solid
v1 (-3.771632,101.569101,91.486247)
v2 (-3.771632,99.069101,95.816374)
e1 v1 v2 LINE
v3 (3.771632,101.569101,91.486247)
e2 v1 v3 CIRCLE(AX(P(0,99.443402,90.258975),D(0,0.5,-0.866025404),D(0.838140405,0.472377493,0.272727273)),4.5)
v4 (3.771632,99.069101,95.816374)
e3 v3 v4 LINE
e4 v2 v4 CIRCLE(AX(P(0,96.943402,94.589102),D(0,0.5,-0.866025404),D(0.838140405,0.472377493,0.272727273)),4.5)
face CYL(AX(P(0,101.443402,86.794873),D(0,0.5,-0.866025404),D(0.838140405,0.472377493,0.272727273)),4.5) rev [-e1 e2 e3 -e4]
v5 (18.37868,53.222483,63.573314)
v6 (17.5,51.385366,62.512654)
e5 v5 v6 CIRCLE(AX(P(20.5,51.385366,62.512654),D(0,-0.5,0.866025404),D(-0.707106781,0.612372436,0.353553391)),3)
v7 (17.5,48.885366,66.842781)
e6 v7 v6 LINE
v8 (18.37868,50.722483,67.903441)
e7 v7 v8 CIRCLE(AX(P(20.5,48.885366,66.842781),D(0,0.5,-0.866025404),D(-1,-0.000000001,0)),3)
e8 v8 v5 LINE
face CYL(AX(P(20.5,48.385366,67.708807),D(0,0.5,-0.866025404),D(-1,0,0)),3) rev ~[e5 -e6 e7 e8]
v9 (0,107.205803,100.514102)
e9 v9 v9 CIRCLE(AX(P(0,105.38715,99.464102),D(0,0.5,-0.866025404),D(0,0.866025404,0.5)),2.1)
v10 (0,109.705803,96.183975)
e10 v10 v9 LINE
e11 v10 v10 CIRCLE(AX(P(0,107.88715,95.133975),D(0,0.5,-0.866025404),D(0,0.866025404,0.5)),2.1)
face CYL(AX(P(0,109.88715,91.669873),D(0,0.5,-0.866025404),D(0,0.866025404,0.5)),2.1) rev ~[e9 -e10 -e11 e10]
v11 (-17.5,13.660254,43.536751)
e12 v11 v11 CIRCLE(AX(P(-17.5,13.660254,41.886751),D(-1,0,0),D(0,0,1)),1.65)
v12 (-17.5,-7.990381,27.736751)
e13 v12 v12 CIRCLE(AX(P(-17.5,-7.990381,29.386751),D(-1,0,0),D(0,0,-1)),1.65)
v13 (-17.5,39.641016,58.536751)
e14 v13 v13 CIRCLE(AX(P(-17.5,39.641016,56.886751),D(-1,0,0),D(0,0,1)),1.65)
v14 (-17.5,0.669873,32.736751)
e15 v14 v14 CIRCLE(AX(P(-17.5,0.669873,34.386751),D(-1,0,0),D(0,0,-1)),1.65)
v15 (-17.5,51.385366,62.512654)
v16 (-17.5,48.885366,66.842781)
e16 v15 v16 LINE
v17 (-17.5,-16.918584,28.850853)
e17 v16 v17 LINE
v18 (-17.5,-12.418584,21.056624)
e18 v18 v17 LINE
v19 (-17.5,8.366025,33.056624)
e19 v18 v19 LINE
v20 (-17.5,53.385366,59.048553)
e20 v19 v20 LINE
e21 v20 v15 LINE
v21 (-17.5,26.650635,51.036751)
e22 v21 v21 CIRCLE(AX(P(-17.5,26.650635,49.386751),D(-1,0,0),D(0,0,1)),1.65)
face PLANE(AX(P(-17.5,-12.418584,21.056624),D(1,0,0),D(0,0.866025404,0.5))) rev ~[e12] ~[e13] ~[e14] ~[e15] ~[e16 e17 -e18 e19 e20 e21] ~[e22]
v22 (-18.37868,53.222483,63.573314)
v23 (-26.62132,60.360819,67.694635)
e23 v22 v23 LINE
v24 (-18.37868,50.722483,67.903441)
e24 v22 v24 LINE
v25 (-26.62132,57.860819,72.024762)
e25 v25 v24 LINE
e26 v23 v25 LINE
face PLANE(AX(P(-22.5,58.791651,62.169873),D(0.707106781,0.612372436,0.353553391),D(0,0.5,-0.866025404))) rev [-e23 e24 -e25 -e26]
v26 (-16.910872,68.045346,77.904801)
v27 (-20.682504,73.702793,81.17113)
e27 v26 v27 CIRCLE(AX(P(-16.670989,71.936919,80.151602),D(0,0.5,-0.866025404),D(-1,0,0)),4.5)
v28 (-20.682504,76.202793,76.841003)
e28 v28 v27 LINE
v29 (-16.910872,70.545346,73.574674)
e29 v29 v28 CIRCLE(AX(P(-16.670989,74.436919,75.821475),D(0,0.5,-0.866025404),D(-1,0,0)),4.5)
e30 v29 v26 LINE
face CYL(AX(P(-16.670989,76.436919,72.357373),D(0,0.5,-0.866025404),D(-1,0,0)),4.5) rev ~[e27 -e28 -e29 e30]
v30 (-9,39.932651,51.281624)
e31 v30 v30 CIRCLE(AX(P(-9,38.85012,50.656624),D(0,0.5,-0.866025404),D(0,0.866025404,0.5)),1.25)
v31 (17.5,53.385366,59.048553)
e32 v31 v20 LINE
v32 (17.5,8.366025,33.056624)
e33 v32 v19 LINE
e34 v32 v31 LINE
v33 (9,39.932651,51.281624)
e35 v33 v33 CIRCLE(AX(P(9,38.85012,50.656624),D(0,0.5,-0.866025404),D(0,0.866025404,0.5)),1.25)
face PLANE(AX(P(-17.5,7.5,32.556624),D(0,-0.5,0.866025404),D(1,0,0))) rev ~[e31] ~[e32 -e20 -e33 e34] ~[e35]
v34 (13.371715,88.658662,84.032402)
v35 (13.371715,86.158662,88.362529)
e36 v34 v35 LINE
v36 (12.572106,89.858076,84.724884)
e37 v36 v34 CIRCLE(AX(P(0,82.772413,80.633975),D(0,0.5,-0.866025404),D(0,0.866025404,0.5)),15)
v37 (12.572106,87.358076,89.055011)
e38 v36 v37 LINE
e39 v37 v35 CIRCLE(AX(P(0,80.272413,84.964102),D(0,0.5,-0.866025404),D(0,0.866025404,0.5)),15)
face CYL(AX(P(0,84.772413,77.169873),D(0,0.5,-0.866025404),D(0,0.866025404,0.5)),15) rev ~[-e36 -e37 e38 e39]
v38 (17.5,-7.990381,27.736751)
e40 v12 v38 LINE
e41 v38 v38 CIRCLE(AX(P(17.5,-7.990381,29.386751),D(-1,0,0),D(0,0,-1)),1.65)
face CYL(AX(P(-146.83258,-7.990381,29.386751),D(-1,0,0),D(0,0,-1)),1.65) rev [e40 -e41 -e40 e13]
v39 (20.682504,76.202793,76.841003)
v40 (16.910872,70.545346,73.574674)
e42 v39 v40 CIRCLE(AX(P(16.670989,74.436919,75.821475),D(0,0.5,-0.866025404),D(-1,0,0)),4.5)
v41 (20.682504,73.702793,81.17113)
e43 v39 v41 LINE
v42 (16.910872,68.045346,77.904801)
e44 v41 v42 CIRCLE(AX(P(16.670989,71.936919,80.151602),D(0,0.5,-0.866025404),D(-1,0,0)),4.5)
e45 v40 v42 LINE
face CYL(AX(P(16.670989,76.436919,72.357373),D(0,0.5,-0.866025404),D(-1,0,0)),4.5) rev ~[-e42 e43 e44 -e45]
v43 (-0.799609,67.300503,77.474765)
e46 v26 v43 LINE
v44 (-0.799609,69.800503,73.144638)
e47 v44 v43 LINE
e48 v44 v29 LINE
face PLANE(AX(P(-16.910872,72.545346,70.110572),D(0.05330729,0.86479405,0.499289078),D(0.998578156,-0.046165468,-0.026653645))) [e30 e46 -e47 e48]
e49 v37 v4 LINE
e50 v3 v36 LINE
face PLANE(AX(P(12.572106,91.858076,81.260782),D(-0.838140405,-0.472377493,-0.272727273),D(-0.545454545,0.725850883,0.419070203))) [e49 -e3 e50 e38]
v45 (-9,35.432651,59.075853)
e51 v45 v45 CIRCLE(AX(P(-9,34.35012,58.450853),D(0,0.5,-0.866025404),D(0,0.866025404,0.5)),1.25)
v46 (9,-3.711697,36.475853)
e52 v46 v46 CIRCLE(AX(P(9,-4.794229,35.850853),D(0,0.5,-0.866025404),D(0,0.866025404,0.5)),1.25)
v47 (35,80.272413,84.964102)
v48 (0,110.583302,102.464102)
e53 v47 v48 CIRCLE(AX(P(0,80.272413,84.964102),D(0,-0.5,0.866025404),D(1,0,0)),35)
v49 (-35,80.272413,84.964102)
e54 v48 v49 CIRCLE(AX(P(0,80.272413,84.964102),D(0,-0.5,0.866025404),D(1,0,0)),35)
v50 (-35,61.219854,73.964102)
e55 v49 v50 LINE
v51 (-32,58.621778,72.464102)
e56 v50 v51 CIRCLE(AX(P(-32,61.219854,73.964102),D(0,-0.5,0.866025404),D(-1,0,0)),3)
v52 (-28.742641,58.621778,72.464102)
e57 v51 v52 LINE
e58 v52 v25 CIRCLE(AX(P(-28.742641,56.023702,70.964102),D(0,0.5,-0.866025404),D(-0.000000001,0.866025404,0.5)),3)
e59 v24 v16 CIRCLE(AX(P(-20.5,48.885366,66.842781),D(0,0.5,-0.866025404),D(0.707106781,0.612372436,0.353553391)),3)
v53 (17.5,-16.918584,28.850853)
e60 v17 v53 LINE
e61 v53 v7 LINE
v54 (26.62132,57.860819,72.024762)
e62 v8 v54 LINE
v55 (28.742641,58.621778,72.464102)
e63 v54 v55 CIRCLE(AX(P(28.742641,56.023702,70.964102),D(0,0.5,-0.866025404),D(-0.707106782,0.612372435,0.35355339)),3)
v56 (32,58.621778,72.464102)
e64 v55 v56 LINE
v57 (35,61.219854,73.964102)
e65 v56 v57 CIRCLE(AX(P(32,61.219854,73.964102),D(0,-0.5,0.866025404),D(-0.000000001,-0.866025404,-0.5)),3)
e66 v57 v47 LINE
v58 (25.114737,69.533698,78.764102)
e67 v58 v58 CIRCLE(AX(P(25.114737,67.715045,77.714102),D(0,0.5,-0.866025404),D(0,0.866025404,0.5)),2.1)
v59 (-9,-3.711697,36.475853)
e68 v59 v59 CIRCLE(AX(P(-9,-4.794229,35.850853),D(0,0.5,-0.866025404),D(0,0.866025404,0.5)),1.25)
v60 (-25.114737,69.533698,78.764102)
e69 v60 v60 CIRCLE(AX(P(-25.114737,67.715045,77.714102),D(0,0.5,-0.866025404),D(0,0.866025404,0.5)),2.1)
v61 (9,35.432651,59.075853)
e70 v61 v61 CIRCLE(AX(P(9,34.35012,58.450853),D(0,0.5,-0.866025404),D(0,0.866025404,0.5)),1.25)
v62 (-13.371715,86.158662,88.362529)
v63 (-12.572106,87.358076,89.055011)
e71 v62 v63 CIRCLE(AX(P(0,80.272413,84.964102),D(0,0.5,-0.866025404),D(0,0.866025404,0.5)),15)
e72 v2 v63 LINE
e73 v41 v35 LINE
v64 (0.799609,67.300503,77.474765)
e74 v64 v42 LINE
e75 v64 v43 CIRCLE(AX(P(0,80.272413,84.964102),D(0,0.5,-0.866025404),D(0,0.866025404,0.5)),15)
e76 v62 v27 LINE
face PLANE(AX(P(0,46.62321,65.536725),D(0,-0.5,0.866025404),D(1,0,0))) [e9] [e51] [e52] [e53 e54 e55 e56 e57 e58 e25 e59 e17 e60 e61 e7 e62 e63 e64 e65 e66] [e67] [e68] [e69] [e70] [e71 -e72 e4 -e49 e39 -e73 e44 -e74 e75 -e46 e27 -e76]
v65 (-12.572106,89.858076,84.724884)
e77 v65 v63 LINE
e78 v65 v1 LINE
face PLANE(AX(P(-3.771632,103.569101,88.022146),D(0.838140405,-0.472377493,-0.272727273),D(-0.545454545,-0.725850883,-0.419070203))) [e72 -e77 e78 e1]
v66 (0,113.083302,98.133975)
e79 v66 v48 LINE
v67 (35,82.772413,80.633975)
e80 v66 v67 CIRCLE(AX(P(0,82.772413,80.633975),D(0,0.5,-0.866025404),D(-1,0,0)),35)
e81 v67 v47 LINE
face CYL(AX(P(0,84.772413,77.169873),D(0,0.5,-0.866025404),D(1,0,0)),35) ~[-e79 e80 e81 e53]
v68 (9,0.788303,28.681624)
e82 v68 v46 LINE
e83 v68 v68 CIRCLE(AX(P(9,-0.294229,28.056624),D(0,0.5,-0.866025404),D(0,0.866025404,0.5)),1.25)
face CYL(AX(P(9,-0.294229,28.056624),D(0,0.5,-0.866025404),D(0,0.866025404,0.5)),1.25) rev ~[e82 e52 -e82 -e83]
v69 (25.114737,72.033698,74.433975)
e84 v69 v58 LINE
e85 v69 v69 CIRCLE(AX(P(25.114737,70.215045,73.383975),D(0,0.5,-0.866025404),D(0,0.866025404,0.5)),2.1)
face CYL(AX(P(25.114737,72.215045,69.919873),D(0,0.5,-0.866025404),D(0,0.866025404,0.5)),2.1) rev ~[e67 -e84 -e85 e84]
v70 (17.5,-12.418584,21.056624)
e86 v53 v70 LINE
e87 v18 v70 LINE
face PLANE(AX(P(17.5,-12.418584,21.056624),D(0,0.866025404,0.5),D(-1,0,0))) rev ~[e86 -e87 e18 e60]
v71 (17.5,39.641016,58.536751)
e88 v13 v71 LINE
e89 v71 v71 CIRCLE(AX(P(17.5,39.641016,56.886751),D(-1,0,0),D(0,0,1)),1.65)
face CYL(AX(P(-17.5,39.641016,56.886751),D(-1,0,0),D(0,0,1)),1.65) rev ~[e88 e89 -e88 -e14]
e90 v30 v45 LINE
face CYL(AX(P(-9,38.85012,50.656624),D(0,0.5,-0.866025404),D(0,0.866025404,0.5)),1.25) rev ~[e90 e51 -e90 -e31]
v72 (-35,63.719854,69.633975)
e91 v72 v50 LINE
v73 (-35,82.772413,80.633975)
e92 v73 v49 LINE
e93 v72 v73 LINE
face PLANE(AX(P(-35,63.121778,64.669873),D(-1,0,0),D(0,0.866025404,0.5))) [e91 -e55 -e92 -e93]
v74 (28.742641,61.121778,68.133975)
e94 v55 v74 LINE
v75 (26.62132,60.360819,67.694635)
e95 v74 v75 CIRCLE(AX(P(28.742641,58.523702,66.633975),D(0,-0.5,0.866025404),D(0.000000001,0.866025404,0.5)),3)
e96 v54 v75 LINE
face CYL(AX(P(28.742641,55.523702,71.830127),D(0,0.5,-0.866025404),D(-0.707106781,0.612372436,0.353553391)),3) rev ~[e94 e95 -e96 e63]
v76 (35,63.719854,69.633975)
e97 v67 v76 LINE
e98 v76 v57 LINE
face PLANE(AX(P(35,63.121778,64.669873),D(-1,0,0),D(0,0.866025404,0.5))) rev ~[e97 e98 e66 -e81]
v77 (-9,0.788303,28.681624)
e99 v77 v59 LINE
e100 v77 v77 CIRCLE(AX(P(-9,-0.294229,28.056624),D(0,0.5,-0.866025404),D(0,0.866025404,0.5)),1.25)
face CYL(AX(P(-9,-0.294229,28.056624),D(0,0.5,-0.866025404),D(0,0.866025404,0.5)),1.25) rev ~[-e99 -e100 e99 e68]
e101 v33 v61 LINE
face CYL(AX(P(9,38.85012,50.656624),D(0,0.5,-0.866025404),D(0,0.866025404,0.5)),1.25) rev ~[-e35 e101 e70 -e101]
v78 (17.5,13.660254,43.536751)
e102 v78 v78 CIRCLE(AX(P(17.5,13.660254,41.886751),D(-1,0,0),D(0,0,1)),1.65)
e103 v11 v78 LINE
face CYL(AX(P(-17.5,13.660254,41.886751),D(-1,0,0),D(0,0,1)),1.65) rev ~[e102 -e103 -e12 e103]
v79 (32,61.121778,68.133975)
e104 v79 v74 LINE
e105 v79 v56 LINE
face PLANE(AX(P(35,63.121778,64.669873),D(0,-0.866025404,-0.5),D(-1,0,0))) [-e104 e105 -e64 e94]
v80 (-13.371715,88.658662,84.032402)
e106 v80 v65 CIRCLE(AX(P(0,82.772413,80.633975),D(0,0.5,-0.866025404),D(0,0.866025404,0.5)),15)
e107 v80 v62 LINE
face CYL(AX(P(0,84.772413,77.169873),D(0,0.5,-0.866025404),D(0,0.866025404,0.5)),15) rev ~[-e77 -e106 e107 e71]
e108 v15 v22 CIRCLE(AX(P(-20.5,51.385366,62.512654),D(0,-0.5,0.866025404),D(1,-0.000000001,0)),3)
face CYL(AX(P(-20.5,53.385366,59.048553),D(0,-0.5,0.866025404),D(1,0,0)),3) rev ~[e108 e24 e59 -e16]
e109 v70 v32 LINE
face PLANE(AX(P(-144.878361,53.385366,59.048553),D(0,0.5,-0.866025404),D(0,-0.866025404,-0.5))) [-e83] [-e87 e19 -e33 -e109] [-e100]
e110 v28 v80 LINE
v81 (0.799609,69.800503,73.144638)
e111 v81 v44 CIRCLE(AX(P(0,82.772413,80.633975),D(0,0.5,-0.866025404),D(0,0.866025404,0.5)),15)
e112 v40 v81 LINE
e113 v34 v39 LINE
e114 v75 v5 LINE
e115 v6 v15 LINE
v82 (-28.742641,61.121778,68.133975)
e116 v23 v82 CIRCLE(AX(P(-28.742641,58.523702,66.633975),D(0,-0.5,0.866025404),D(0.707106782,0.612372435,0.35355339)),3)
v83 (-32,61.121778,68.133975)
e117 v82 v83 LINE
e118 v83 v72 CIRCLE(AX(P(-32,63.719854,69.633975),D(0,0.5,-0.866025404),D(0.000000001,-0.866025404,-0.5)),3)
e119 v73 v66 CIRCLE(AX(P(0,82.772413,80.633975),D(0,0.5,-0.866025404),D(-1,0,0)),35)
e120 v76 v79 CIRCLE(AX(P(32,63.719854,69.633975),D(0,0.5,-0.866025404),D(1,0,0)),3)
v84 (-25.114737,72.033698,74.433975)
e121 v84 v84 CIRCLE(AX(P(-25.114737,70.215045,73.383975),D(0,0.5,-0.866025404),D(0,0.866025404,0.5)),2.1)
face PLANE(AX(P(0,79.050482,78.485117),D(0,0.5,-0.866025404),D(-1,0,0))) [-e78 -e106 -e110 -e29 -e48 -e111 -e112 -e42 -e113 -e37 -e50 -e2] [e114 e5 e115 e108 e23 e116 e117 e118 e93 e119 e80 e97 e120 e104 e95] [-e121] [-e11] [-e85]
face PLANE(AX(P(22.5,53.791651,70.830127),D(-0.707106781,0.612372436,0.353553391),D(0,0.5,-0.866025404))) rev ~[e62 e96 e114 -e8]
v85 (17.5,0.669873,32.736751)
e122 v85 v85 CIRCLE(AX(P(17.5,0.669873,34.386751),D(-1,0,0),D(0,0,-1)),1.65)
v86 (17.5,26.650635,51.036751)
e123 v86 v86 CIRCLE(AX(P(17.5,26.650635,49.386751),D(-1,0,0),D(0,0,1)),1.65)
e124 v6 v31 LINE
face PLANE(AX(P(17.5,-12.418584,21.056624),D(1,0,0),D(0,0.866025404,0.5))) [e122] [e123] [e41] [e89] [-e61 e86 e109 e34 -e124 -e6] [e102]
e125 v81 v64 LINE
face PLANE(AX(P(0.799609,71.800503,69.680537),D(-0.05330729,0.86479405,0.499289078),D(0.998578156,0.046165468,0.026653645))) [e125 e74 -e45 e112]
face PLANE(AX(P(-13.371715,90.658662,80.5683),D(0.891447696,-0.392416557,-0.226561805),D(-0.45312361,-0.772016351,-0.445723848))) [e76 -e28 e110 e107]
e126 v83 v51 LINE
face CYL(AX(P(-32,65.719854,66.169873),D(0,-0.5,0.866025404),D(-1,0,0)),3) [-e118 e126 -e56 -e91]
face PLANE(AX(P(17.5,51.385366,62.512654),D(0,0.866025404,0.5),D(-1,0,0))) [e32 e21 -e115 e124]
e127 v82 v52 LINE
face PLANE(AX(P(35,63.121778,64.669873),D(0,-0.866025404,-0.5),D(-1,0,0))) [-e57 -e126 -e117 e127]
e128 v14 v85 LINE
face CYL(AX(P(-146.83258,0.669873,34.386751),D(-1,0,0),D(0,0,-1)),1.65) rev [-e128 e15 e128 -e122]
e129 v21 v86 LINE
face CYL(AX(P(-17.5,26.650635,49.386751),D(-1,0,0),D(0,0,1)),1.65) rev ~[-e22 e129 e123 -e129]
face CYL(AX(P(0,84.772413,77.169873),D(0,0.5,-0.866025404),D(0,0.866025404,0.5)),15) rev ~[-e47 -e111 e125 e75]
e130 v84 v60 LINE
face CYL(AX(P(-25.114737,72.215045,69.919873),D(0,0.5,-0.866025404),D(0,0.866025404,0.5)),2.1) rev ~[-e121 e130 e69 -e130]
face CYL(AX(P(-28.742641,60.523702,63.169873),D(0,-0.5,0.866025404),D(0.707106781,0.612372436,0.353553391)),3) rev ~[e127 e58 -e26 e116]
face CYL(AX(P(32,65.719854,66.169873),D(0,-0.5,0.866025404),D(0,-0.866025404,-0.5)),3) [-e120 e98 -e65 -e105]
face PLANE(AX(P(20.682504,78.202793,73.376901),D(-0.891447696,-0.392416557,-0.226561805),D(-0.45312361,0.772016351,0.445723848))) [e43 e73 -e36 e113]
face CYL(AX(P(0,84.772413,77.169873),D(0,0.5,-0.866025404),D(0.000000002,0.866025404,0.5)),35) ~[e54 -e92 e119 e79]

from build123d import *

# Parameters (mm, degrees)
SKETCH_1_W                = 35
SKETCH_1_H                = 10
EXTRUDE_1_DEPTH           = 30
SKETCH_2_R                = 1.65
CUT_EXTRUDE_1_DEPTH       = 47.368092477
SKETCH_3_W                = 35
SKETCH_3_H                = 10
FILLET_1_R                = 5
SKETCH_6_W                = 70
SKETCH_6_H                = 60
EXTRUDE_2_DEPTH           = 10
CHAMFER_1_SIZE            = 10
CUT_EXTRUDE_3_DEPTH       = 15
SKETCH_8_R                = 15
CUT_EXTRUDE_4_DEPTH       = 15
SKETCH_10_R               = 2.1
CUT_EXTRUDE_6_DEPTH       = 156.505811286
SKETCH_11_R               = 4.5
CUT_EXTRUDE_7_DEPTH       = 156.505811286
CUT_EXTRUDE_12_DEPTH      = 25
CUT_EXTRUDE_10_DEPTH      = 156.505811286
CUT_EXTRUDE_10_DEPTH_BACK = 156.505811286
SKETCH_14_W               = 35
SKETCH_14_H               = 27.103629711
SKETCH_15_W               = 35
SKETCH_15_H               = 10
EXTRUDE_3_DEPTH           = 23
CUT_EXTRUDE_11_DEPTH      = 164.332579917
CUT_EXTRUDE_11_DEPTH_BACK = 164.332579917
SKETCH_16_R               = 1.65
FILLET_2_R                = 3
CUT_EXTRUDE_START         = -4
CUT_EXTRUDE_13_DEPTH      = 4
SKETCH_19_W               = 35
SKETCH_19_H               = 24
EXTRUDE_4_DEPTH           = 6
CUT_EXTRUDE_14_DEPTH      = 162.92960956
CUT_EXTRUDE_14_DEPTH_BACK = 162.92960956
SKETCH_20_R               = 1.65
CUT_EXTRUDE_15_DEPTH      = 1
SKETCH_22_R               = 1.65
CUT_EXTRUDE_16_DEPTH      = 162.378361072
CUT_EXTRUDE_17_DEPTH      = 162.378361072
CUT_EXTRUDE_17_DEPTH_BACK = 162.378361072
SKETCH_25_R               = 1.25
CUT_EXTRUDE_18_DEPTH      = 10


with BuildPart() as part:
    # 草图1 → 凸台-拉伸1 (new body)
    with BuildSketch(Plane.XY):
        Rectangle(SKETCH_1_W, SKETCH_1_H)
    extrude(amount=EXTRUDE_1_DEPTH)

    # 草图2 → 切除-拉伸1 (cut, through all)
    with BuildSketch(Plane(origin=(17.5, 0, 0), x_dir=(0, 0, -1), z_dir=(1, 0, 0))):
        with Locations((-26, 0)):
            Circle(SKETCH_2_R)
        with Locations((-4, 0)):
            Circle(SKETCH_2_R)
    extrude(amount=-CUT_EXTRUDE_1_DEPTH, mode=Mode.SUBTRACT)

    # 扫描3: sweep along a path in 草图4
    with BuildLine(Plane(origin=(0, 0, 0), x_dir=(0, 0, -1), z_dir=(1, 0, 0))) as sweep_3_path:
        Line((-30, 0), (-31.113248654, 0))
        ThreePointArc((-31.113248654, 0), (-33.613248654, 0.669872981), (-35.443375673, 2.5))
        Line((-35.443375673, 2.5), (-99, 112.583302492))
    # 草图3 → 扫描3 (sweep)
    with BuildSketch(Plane.XY.offset(30)):
        Rectangle(SKETCH_3_W, SKETCH_3_H)
    sweep(path=sweep_3_path.line)

    # 圆角1
    fillet_1_edges = [part.edges().sort_by_distance(p)[0] for p in [
        (0, 5, 31.113248654),
    ]]
    fillet(fillet_1_edges, radius=FILLET_1_R)

    # 草图6 → 凸台-拉伸2 (add)
    with BuildSketch(Plane(origin=(0, -12.222431864, 21.169872981), x_dir=(-1, 0, 0), z_dir=(0, 0.4999999999999983, -0.8660254037844396))):
        with Locations((0, 117)):
            Rectangle(SKETCH_6_W, SKETCH_6_H)
    extrude(amount=-EXTRUDE_2_DEPTH)

    # 倒角1
    chamfer_1_edges = [part.edges().sort_by_distance(p)[0] for p in [
        (17.5, 60.621778265, 69),
        (-17.5, 60.621778265, 69),
    ]]
    chamfer(chamfer_1_edges, length=CHAMFER_1_SIZE)

    # 草图7 → 切除-拉伸3 (cut)
    with BuildSketch(Plane(origin=(0, -12.222431864, 21.169872981), x_dir=(-1, 0, 0), z_dir=(0, 0.4999999999999983, -0.8660254037844396))):
        with BuildLine():
            Line((-35, 147), (-35, 112))
            ThreePointArc((-35, 112), (-24.748737372, 136.748737311), (-8.6e-08, 147))
            Line((-8.6e-08, 147), (-35, 147))
        make_face()
        with BuildLine():
            ThreePointArc((-8.6e-08, 147), (24.748737311, 136.748737372), (35, 112))
            Line((35, 112), (35, 147))
            Line((35, 147), (-8.6e-08, 147))
        make_face()
    extrude(amount=-CUT_EXTRUDE_3_DEPTH, mode=Mode.SUBTRACT)

    # 草图8 → 切除-拉伸4 (cut)
    with BuildSketch(Plane(origin=(0, -12.222431864, 21.169872981), x_dir=(-1, 0, 0), z_dir=(0, 0.4999999999999983, -0.8660254037844396))):
        with Locations(Location((0, 112, 0), (0, 0, 90))):
            Circle(SKETCH_8_R)
    extrude(amount=-CUT_EXTRUDE_4_DEPTH, mode=Mode.SUBTRACT)

    # 草图10 → 切除-拉伸6 (cut, through all)
    with BuildSketch(Plane(origin=(0, -12.222431864, 21.169872981), x_dir=(-1, 0, 0), z_dir=(0, 0.4999999999999983, -0.8660254037844396))):
        with Locations(Location((0, 141, 0), (0, 0, 90))):
            Circle(SKETCH_10_R)
        with Locations(Location((-25.11473671, 97.5, 0), (0, 0, 90))):
            Circle(SKETCH_10_R)
        with Locations(Location((25.11473671, 97.5, 0), (0, 0, 90))):
            Circle(SKETCH_10_R)
    extrude(amount=-CUT_EXTRUDE_6_DEPTH, mode=Mode.SUBTRACT)

    # 草图11 → 切除-拉伸7 (cut, through all)
    with BuildSketch(Plane(origin=(0, -12.222431864, 21.169872981), x_dir=(-1, 0, 0), z_dir=(0, 0.4999999999999983, -0.8660254037844396))):
        with Locations((-16.670989023, 102.375)):
            Circle(SKETCH_11_R)
        with Locations((16.670989023, 102.375)):
            Circle(SKETCH_11_R)
    extrude(amount=-CUT_EXTRUDE_7_DEPTH, mode=Mode.SUBTRACT)

    # 草图12 → 切除-拉伸12 (cut)
    with BuildSketch(Plane(origin=(0, -12.222431864, 21.169872981), x_dir=(-1, 0, 0), z_dir=(0, 0.4999999999999983, -0.8660254037844396))):
        with BuildLine():
            Line((-20.682503653, 104.414056246), (-13.371715434, 118.796854152))
            ThreePointArc((-13.371715434, 118.796854152), (-12.990381057, 119.5), (-12.572106078, 120.181818182))
            Line((-12.572106078, 120.181818182), (-3.771631823, 133.704545455))
            ThreePointArc((-3.771631823, 133.704545455), (0, 135.75), (3.771631823, 133.704545455))
            Line((3.771631823, 133.704545455), (12.572106078, 120.181818182))
            ThreePointArc((12.572106078, 120.181818182), (12.990381057, 119.5), (13.371715434, 118.796854152))
            Line((13.371715434, 118.796854152), (20.682503653, 104.414056246))
            ThreePointArc((20.682503653, 104.414056246), (20.56810334, 100.125), (16.91087183, 97.8813983))
            Line((16.91087183, 97.8813983), (0.799609356, 97.021327666))
            ThreePointArc((0.799609356, 97.021327666), (0, 97), (-0.799609356, 97.021327666))
            Line((-0.799609356, 97.021327666), (-16.91087183, 97.8813983))
            ThreePointArc((-16.91087183, 97.8813983), (-20.56810334, 100.125), (-20.682503653, 104.414056246))
        make_face()
    extrude(amount=-CUT_EXTRUDE_12_DEPTH, mode=Mode.SUBTRACT)

    # 草图14 → 切除-拉伸10 (cut, two sides: drawn at the far end of the back side and taken through both)
    with BuildSketch(Plane(origin=(0, -12.222431864, 21.169872981), x_dir=(-1, 0, 0), z_dir=(0, 0.4999999999999983, -0.8660254037844396)).offset(-CUT_EXTRUDE_10_DEPTH_BACK)):
        with Locations((0, 9.221687837)):
            Rectangle(SKETCH_14_W, SKETCH_14_H)
    extrude(amount=CUT_EXTRUDE_10_DEPTH + CUT_EXTRUDE_10_DEPTH_BACK, mode=Mode.SUBTRACT)

    # 草图15 → 凸台-拉伸3 (add)
    with BuildSketch(Plane(origin=(0, 19.722431864, 11.386751346), x_dir=(1, 0, 0), z_dir=(0, -0.8660254037844397, -0.4999999999999984))):
        with Locations((0, 29.444863729)):
            Rectangle(SKETCH_15_W, SKETCH_15_H)
    extrude(amount=EXTRUDE_3_DEPTH)

    # 草图16 → 切除-拉伸11 (cut, two sides: drawn at the far end of the back side and taken through both)
    with BuildSketch(Plane(origin=(17.5, 0, 0), x_dir=(0, 0, -1), z_dir=(1, 0, 0)).offset(-CUT_EXTRUDE_11_DEPTH_BACK)):
        with Locations((-29.386751346, -7.990381057)):
            Circle(SKETCH_16_R)
        with Locations((-34.386751346, 0.669872981)):
            Circle(SKETCH_16_R)
    extrude(amount=CUT_EXTRUDE_11_DEPTH + CUT_EXTRUDE_11_DEPTH_BACK, mode=Mode.SUBTRACT)

    # 圆角2
    fillet_2_edges = [part.edges().sort_by_distance(p)[0] for p in [
        (-35, 60.621778265, 69),
        (35, 60.621778265, 69),
        (-17.5, 51.961524227, 64),
        (-27.5, 60.621778265, 69),
        (27.5, 60.621778265, 69),
        (17.5, 51.961524227, 64),
    ]]
    fillet(fillet_2_edges, radius=FILLET_2_R)

    # 草图18 → 切除-拉伸13 (cut)
    with BuildSketch(Plane(origin=(0, -12.222431864, 21.169872981), x_dir=(-1, 0, 0), z_dir=(0, 0.4999999999999983, -0.8660254037844396)).offset(CUT_EXTRUDE_START)):
        with BuildLine():
            Line((-17.5, 75.757359313), (17.5, 75.757359313))
            ThreePointArc((17.5, 75.757359313), (17.728361402, 76.90540961), (18.378679656, 77.878679656))
            Line((18.378679656, 77.878679656), (26.621320344, 86.121320344))
            ThreePointArc((26.621320344, 86.121320344), (27.59459039, 86.771638598), (28.742640687, 87))
            Line((28.742640687, 87), (32, 87))
            ThreePointArc((32, 87), (34.121320344, 87.878679656), (35, 90))
            Line((35, 90), (35, 112))
            ThreePointArc((35, 112), (0, 147), (-35, 112))
            Line((-35, 112), (-35, 90))
            ThreePointArc((-35, 90), (-34.121320344, 87.878679656), (-32, 87))
            Line((-32, 87), (-28.742640687, 87))
            ThreePointArc((-28.742640687, 87), (-27.59459039, 86.771638598), (-26.621320344, 86.121320344))
            Line((-26.621320344, 86.121320344), (-18.378679656, 77.878679656))
            ThreePointArc((-18.378679656, 77.878679656), (-17.728361402, 76.90540961), (-17.5, 75.757359313))
        make_face()
    extrude(amount=CUT_EXTRUDE_13_DEPTH, mode=Mode.SUBTRACT)

    # 草图19 → 凸台-拉伸4 (add)
    with BuildSketch(Plane(origin=(0, -12.222431864, 21.169872981), x_dir=(-1, 0, 0), z_dir=(0, 0.4999999999999983, -0.8660254037844396))):
        with Locations((0, 11.773502692)):
            Rectangle(SKETCH_19_W, SKETCH_19_H)
    extrude(amount=EXTRUDE_4_DEPTH)

    # 草图20 → 切除-拉伸14 (cut, two sides: drawn at the far end of the back side and taken through both)
    with BuildSketch(Plane.ZY.offset(17.5).offset(-CUT_EXTRUDE_14_DEPTH_BACK)):
        with Locations(Location((29.386751346, -7.990381057, 0), (0, 0, 180))):
            Circle(SKETCH_20_R)
        with Locations(Location((34.386751346, 0.669872981, 0), (0, 0, 180))):
            Circle(SKETCH_20_R)
        with Locations((22.458548116, -3.990381057)):
            Circle(SKETCH_20_R)
        with Locations((27.458548116, 4.669872981)):
            Circle(SKETCH_20_R)
    extrude(amount=CUT_EXTRUDE_14_DEPTH + CUT_EXTRUDE_14_DEPTH_BACK, mode=Mode.SUBTRACT)

    # 草图21 → 切除-拉伸15 (cut)
    with BuildSketch(Plane(origin=(0, -17.222431864, 29.830127019), x_dir=(1, 0, 0), z_dir=(0, -0.4999999999999983, 0.8660254037844396))):
        with BuildLine():
            Line((-35, 112), (-35, 90))
            ThreePointArc((-35, 90), (-34.121320344, 87.878679656), (-32, 87))
            Line((-32, 87), (-28.742640687, 87))
            ThreePointArc((-28.742640687, 87), (-27.59459039, 86.771638598), (-26.621320344, 86.121320344))
            Line((-26.621320344, 86.121320344), (-18.378679656, 77.878679656))
            ThreePointArc((-18.378679656, 77.878679656), (-17.728361402, 76.90540961), (-17.5, 75.757359313))
            Line((-17.5, 75.757359313), (-17.5, -0.226497308))
            Line((-17.5, -0.226497308), (17.5, -0.226497308))
            Line((17.5, -0.226497308), (17.5, 75.757359313))
            ThreePointArc((17.5, 75.757359313), (17.728361402, 76.90540961), (18.378679656, 77.878679656))
            Line((18.378679656, 77.878679656), (26.621320344, 86.121320344))
            ThreePointArc((26.621320344, 86.121320344), (27.59459039, 86.771638598), (28.742640687, 87))
            Line((28.742640687, 87), (32, 87))
            ThreePointArc((32, 87), (34.121320344, 87.878679656), (35, 90))
            Line((35, 90), (35, 112))
            ThreePointArc((35, 112), (0, 147), (-35, 112))
        make_face()
    extrude(amount=-CUT_EXTRUDE_15_DEPTH, mode=Mode.SUBTRACT)

    # 草图22 → 切除-拉伸16 (cut, through all)
    with BuildSketch(Plane.ZY.offset(17.5)):
        with Locations((49.386751346, 26.650635095)):
            Circle(SKETCH_22_R)
        with Locations((56.886751346, 39.641016151)):
            Circle(SKETCH_22_R)
        with Locations((41.886751346, 13.660254038)):
            Circle(SKETCH_22_R)
    extrude(amount=-CUT_EXTRUDE_16_DEPTH, mode=Mode.SUBTRACT)

    # 草图23 → 切除-拉伸17 (cut, two sides: drawn at the far end of the back side and taken through both)
    with BuildSketch(Plane(origin=(17.5, 0, 0), x_dir=(0, 0, -1), z_dir=(1, 0, 0)).offset(-CUT_EXTRUDE_17_DEPTH_BACK)):
        Polygon((-59.048552638, 53.385365824), (-21.056624327, -12.418584287), (-8.944037263, -5.425378885), align=None)
    extrude(amount=CUT_EXTRUDE_17_DEPTH + CUT_EXTRUDE_17_DEPTH_BACK, mode=Mode.SUBTRACT)

    # 草图25 → 切除-拉伸18 (cut)
    with BuildSketch(Plane(origin=(0, -12.222431864, 21.169872981), x_dir=(-1, 0, 0), z_dir=(0, 0.4999999999999981, -0.8660254037844397))):
        with Locations(Location((-9, 58.973502692, 0), (0, 0, 90))):
            Circle(SKETCH_25_R)
        with Locations(Location((9, 58.973502692, 0), (0, 0, 90))):
            Circle(SKETCH_25_R)
        with Locations(Location((-9, 13.773502692, 0), (0, 0, 90))):
            Circle(SKETCH_25_R)
        with Locations(Location((9, 13.773502692, 0), (0, 0, 90))):
            Circle(SKETCH_25_R)
    extrude(amount=-CUT_EXTRUDE_18_DEPTH, mode=Mode.SUBTRACT)


solid = part.part
